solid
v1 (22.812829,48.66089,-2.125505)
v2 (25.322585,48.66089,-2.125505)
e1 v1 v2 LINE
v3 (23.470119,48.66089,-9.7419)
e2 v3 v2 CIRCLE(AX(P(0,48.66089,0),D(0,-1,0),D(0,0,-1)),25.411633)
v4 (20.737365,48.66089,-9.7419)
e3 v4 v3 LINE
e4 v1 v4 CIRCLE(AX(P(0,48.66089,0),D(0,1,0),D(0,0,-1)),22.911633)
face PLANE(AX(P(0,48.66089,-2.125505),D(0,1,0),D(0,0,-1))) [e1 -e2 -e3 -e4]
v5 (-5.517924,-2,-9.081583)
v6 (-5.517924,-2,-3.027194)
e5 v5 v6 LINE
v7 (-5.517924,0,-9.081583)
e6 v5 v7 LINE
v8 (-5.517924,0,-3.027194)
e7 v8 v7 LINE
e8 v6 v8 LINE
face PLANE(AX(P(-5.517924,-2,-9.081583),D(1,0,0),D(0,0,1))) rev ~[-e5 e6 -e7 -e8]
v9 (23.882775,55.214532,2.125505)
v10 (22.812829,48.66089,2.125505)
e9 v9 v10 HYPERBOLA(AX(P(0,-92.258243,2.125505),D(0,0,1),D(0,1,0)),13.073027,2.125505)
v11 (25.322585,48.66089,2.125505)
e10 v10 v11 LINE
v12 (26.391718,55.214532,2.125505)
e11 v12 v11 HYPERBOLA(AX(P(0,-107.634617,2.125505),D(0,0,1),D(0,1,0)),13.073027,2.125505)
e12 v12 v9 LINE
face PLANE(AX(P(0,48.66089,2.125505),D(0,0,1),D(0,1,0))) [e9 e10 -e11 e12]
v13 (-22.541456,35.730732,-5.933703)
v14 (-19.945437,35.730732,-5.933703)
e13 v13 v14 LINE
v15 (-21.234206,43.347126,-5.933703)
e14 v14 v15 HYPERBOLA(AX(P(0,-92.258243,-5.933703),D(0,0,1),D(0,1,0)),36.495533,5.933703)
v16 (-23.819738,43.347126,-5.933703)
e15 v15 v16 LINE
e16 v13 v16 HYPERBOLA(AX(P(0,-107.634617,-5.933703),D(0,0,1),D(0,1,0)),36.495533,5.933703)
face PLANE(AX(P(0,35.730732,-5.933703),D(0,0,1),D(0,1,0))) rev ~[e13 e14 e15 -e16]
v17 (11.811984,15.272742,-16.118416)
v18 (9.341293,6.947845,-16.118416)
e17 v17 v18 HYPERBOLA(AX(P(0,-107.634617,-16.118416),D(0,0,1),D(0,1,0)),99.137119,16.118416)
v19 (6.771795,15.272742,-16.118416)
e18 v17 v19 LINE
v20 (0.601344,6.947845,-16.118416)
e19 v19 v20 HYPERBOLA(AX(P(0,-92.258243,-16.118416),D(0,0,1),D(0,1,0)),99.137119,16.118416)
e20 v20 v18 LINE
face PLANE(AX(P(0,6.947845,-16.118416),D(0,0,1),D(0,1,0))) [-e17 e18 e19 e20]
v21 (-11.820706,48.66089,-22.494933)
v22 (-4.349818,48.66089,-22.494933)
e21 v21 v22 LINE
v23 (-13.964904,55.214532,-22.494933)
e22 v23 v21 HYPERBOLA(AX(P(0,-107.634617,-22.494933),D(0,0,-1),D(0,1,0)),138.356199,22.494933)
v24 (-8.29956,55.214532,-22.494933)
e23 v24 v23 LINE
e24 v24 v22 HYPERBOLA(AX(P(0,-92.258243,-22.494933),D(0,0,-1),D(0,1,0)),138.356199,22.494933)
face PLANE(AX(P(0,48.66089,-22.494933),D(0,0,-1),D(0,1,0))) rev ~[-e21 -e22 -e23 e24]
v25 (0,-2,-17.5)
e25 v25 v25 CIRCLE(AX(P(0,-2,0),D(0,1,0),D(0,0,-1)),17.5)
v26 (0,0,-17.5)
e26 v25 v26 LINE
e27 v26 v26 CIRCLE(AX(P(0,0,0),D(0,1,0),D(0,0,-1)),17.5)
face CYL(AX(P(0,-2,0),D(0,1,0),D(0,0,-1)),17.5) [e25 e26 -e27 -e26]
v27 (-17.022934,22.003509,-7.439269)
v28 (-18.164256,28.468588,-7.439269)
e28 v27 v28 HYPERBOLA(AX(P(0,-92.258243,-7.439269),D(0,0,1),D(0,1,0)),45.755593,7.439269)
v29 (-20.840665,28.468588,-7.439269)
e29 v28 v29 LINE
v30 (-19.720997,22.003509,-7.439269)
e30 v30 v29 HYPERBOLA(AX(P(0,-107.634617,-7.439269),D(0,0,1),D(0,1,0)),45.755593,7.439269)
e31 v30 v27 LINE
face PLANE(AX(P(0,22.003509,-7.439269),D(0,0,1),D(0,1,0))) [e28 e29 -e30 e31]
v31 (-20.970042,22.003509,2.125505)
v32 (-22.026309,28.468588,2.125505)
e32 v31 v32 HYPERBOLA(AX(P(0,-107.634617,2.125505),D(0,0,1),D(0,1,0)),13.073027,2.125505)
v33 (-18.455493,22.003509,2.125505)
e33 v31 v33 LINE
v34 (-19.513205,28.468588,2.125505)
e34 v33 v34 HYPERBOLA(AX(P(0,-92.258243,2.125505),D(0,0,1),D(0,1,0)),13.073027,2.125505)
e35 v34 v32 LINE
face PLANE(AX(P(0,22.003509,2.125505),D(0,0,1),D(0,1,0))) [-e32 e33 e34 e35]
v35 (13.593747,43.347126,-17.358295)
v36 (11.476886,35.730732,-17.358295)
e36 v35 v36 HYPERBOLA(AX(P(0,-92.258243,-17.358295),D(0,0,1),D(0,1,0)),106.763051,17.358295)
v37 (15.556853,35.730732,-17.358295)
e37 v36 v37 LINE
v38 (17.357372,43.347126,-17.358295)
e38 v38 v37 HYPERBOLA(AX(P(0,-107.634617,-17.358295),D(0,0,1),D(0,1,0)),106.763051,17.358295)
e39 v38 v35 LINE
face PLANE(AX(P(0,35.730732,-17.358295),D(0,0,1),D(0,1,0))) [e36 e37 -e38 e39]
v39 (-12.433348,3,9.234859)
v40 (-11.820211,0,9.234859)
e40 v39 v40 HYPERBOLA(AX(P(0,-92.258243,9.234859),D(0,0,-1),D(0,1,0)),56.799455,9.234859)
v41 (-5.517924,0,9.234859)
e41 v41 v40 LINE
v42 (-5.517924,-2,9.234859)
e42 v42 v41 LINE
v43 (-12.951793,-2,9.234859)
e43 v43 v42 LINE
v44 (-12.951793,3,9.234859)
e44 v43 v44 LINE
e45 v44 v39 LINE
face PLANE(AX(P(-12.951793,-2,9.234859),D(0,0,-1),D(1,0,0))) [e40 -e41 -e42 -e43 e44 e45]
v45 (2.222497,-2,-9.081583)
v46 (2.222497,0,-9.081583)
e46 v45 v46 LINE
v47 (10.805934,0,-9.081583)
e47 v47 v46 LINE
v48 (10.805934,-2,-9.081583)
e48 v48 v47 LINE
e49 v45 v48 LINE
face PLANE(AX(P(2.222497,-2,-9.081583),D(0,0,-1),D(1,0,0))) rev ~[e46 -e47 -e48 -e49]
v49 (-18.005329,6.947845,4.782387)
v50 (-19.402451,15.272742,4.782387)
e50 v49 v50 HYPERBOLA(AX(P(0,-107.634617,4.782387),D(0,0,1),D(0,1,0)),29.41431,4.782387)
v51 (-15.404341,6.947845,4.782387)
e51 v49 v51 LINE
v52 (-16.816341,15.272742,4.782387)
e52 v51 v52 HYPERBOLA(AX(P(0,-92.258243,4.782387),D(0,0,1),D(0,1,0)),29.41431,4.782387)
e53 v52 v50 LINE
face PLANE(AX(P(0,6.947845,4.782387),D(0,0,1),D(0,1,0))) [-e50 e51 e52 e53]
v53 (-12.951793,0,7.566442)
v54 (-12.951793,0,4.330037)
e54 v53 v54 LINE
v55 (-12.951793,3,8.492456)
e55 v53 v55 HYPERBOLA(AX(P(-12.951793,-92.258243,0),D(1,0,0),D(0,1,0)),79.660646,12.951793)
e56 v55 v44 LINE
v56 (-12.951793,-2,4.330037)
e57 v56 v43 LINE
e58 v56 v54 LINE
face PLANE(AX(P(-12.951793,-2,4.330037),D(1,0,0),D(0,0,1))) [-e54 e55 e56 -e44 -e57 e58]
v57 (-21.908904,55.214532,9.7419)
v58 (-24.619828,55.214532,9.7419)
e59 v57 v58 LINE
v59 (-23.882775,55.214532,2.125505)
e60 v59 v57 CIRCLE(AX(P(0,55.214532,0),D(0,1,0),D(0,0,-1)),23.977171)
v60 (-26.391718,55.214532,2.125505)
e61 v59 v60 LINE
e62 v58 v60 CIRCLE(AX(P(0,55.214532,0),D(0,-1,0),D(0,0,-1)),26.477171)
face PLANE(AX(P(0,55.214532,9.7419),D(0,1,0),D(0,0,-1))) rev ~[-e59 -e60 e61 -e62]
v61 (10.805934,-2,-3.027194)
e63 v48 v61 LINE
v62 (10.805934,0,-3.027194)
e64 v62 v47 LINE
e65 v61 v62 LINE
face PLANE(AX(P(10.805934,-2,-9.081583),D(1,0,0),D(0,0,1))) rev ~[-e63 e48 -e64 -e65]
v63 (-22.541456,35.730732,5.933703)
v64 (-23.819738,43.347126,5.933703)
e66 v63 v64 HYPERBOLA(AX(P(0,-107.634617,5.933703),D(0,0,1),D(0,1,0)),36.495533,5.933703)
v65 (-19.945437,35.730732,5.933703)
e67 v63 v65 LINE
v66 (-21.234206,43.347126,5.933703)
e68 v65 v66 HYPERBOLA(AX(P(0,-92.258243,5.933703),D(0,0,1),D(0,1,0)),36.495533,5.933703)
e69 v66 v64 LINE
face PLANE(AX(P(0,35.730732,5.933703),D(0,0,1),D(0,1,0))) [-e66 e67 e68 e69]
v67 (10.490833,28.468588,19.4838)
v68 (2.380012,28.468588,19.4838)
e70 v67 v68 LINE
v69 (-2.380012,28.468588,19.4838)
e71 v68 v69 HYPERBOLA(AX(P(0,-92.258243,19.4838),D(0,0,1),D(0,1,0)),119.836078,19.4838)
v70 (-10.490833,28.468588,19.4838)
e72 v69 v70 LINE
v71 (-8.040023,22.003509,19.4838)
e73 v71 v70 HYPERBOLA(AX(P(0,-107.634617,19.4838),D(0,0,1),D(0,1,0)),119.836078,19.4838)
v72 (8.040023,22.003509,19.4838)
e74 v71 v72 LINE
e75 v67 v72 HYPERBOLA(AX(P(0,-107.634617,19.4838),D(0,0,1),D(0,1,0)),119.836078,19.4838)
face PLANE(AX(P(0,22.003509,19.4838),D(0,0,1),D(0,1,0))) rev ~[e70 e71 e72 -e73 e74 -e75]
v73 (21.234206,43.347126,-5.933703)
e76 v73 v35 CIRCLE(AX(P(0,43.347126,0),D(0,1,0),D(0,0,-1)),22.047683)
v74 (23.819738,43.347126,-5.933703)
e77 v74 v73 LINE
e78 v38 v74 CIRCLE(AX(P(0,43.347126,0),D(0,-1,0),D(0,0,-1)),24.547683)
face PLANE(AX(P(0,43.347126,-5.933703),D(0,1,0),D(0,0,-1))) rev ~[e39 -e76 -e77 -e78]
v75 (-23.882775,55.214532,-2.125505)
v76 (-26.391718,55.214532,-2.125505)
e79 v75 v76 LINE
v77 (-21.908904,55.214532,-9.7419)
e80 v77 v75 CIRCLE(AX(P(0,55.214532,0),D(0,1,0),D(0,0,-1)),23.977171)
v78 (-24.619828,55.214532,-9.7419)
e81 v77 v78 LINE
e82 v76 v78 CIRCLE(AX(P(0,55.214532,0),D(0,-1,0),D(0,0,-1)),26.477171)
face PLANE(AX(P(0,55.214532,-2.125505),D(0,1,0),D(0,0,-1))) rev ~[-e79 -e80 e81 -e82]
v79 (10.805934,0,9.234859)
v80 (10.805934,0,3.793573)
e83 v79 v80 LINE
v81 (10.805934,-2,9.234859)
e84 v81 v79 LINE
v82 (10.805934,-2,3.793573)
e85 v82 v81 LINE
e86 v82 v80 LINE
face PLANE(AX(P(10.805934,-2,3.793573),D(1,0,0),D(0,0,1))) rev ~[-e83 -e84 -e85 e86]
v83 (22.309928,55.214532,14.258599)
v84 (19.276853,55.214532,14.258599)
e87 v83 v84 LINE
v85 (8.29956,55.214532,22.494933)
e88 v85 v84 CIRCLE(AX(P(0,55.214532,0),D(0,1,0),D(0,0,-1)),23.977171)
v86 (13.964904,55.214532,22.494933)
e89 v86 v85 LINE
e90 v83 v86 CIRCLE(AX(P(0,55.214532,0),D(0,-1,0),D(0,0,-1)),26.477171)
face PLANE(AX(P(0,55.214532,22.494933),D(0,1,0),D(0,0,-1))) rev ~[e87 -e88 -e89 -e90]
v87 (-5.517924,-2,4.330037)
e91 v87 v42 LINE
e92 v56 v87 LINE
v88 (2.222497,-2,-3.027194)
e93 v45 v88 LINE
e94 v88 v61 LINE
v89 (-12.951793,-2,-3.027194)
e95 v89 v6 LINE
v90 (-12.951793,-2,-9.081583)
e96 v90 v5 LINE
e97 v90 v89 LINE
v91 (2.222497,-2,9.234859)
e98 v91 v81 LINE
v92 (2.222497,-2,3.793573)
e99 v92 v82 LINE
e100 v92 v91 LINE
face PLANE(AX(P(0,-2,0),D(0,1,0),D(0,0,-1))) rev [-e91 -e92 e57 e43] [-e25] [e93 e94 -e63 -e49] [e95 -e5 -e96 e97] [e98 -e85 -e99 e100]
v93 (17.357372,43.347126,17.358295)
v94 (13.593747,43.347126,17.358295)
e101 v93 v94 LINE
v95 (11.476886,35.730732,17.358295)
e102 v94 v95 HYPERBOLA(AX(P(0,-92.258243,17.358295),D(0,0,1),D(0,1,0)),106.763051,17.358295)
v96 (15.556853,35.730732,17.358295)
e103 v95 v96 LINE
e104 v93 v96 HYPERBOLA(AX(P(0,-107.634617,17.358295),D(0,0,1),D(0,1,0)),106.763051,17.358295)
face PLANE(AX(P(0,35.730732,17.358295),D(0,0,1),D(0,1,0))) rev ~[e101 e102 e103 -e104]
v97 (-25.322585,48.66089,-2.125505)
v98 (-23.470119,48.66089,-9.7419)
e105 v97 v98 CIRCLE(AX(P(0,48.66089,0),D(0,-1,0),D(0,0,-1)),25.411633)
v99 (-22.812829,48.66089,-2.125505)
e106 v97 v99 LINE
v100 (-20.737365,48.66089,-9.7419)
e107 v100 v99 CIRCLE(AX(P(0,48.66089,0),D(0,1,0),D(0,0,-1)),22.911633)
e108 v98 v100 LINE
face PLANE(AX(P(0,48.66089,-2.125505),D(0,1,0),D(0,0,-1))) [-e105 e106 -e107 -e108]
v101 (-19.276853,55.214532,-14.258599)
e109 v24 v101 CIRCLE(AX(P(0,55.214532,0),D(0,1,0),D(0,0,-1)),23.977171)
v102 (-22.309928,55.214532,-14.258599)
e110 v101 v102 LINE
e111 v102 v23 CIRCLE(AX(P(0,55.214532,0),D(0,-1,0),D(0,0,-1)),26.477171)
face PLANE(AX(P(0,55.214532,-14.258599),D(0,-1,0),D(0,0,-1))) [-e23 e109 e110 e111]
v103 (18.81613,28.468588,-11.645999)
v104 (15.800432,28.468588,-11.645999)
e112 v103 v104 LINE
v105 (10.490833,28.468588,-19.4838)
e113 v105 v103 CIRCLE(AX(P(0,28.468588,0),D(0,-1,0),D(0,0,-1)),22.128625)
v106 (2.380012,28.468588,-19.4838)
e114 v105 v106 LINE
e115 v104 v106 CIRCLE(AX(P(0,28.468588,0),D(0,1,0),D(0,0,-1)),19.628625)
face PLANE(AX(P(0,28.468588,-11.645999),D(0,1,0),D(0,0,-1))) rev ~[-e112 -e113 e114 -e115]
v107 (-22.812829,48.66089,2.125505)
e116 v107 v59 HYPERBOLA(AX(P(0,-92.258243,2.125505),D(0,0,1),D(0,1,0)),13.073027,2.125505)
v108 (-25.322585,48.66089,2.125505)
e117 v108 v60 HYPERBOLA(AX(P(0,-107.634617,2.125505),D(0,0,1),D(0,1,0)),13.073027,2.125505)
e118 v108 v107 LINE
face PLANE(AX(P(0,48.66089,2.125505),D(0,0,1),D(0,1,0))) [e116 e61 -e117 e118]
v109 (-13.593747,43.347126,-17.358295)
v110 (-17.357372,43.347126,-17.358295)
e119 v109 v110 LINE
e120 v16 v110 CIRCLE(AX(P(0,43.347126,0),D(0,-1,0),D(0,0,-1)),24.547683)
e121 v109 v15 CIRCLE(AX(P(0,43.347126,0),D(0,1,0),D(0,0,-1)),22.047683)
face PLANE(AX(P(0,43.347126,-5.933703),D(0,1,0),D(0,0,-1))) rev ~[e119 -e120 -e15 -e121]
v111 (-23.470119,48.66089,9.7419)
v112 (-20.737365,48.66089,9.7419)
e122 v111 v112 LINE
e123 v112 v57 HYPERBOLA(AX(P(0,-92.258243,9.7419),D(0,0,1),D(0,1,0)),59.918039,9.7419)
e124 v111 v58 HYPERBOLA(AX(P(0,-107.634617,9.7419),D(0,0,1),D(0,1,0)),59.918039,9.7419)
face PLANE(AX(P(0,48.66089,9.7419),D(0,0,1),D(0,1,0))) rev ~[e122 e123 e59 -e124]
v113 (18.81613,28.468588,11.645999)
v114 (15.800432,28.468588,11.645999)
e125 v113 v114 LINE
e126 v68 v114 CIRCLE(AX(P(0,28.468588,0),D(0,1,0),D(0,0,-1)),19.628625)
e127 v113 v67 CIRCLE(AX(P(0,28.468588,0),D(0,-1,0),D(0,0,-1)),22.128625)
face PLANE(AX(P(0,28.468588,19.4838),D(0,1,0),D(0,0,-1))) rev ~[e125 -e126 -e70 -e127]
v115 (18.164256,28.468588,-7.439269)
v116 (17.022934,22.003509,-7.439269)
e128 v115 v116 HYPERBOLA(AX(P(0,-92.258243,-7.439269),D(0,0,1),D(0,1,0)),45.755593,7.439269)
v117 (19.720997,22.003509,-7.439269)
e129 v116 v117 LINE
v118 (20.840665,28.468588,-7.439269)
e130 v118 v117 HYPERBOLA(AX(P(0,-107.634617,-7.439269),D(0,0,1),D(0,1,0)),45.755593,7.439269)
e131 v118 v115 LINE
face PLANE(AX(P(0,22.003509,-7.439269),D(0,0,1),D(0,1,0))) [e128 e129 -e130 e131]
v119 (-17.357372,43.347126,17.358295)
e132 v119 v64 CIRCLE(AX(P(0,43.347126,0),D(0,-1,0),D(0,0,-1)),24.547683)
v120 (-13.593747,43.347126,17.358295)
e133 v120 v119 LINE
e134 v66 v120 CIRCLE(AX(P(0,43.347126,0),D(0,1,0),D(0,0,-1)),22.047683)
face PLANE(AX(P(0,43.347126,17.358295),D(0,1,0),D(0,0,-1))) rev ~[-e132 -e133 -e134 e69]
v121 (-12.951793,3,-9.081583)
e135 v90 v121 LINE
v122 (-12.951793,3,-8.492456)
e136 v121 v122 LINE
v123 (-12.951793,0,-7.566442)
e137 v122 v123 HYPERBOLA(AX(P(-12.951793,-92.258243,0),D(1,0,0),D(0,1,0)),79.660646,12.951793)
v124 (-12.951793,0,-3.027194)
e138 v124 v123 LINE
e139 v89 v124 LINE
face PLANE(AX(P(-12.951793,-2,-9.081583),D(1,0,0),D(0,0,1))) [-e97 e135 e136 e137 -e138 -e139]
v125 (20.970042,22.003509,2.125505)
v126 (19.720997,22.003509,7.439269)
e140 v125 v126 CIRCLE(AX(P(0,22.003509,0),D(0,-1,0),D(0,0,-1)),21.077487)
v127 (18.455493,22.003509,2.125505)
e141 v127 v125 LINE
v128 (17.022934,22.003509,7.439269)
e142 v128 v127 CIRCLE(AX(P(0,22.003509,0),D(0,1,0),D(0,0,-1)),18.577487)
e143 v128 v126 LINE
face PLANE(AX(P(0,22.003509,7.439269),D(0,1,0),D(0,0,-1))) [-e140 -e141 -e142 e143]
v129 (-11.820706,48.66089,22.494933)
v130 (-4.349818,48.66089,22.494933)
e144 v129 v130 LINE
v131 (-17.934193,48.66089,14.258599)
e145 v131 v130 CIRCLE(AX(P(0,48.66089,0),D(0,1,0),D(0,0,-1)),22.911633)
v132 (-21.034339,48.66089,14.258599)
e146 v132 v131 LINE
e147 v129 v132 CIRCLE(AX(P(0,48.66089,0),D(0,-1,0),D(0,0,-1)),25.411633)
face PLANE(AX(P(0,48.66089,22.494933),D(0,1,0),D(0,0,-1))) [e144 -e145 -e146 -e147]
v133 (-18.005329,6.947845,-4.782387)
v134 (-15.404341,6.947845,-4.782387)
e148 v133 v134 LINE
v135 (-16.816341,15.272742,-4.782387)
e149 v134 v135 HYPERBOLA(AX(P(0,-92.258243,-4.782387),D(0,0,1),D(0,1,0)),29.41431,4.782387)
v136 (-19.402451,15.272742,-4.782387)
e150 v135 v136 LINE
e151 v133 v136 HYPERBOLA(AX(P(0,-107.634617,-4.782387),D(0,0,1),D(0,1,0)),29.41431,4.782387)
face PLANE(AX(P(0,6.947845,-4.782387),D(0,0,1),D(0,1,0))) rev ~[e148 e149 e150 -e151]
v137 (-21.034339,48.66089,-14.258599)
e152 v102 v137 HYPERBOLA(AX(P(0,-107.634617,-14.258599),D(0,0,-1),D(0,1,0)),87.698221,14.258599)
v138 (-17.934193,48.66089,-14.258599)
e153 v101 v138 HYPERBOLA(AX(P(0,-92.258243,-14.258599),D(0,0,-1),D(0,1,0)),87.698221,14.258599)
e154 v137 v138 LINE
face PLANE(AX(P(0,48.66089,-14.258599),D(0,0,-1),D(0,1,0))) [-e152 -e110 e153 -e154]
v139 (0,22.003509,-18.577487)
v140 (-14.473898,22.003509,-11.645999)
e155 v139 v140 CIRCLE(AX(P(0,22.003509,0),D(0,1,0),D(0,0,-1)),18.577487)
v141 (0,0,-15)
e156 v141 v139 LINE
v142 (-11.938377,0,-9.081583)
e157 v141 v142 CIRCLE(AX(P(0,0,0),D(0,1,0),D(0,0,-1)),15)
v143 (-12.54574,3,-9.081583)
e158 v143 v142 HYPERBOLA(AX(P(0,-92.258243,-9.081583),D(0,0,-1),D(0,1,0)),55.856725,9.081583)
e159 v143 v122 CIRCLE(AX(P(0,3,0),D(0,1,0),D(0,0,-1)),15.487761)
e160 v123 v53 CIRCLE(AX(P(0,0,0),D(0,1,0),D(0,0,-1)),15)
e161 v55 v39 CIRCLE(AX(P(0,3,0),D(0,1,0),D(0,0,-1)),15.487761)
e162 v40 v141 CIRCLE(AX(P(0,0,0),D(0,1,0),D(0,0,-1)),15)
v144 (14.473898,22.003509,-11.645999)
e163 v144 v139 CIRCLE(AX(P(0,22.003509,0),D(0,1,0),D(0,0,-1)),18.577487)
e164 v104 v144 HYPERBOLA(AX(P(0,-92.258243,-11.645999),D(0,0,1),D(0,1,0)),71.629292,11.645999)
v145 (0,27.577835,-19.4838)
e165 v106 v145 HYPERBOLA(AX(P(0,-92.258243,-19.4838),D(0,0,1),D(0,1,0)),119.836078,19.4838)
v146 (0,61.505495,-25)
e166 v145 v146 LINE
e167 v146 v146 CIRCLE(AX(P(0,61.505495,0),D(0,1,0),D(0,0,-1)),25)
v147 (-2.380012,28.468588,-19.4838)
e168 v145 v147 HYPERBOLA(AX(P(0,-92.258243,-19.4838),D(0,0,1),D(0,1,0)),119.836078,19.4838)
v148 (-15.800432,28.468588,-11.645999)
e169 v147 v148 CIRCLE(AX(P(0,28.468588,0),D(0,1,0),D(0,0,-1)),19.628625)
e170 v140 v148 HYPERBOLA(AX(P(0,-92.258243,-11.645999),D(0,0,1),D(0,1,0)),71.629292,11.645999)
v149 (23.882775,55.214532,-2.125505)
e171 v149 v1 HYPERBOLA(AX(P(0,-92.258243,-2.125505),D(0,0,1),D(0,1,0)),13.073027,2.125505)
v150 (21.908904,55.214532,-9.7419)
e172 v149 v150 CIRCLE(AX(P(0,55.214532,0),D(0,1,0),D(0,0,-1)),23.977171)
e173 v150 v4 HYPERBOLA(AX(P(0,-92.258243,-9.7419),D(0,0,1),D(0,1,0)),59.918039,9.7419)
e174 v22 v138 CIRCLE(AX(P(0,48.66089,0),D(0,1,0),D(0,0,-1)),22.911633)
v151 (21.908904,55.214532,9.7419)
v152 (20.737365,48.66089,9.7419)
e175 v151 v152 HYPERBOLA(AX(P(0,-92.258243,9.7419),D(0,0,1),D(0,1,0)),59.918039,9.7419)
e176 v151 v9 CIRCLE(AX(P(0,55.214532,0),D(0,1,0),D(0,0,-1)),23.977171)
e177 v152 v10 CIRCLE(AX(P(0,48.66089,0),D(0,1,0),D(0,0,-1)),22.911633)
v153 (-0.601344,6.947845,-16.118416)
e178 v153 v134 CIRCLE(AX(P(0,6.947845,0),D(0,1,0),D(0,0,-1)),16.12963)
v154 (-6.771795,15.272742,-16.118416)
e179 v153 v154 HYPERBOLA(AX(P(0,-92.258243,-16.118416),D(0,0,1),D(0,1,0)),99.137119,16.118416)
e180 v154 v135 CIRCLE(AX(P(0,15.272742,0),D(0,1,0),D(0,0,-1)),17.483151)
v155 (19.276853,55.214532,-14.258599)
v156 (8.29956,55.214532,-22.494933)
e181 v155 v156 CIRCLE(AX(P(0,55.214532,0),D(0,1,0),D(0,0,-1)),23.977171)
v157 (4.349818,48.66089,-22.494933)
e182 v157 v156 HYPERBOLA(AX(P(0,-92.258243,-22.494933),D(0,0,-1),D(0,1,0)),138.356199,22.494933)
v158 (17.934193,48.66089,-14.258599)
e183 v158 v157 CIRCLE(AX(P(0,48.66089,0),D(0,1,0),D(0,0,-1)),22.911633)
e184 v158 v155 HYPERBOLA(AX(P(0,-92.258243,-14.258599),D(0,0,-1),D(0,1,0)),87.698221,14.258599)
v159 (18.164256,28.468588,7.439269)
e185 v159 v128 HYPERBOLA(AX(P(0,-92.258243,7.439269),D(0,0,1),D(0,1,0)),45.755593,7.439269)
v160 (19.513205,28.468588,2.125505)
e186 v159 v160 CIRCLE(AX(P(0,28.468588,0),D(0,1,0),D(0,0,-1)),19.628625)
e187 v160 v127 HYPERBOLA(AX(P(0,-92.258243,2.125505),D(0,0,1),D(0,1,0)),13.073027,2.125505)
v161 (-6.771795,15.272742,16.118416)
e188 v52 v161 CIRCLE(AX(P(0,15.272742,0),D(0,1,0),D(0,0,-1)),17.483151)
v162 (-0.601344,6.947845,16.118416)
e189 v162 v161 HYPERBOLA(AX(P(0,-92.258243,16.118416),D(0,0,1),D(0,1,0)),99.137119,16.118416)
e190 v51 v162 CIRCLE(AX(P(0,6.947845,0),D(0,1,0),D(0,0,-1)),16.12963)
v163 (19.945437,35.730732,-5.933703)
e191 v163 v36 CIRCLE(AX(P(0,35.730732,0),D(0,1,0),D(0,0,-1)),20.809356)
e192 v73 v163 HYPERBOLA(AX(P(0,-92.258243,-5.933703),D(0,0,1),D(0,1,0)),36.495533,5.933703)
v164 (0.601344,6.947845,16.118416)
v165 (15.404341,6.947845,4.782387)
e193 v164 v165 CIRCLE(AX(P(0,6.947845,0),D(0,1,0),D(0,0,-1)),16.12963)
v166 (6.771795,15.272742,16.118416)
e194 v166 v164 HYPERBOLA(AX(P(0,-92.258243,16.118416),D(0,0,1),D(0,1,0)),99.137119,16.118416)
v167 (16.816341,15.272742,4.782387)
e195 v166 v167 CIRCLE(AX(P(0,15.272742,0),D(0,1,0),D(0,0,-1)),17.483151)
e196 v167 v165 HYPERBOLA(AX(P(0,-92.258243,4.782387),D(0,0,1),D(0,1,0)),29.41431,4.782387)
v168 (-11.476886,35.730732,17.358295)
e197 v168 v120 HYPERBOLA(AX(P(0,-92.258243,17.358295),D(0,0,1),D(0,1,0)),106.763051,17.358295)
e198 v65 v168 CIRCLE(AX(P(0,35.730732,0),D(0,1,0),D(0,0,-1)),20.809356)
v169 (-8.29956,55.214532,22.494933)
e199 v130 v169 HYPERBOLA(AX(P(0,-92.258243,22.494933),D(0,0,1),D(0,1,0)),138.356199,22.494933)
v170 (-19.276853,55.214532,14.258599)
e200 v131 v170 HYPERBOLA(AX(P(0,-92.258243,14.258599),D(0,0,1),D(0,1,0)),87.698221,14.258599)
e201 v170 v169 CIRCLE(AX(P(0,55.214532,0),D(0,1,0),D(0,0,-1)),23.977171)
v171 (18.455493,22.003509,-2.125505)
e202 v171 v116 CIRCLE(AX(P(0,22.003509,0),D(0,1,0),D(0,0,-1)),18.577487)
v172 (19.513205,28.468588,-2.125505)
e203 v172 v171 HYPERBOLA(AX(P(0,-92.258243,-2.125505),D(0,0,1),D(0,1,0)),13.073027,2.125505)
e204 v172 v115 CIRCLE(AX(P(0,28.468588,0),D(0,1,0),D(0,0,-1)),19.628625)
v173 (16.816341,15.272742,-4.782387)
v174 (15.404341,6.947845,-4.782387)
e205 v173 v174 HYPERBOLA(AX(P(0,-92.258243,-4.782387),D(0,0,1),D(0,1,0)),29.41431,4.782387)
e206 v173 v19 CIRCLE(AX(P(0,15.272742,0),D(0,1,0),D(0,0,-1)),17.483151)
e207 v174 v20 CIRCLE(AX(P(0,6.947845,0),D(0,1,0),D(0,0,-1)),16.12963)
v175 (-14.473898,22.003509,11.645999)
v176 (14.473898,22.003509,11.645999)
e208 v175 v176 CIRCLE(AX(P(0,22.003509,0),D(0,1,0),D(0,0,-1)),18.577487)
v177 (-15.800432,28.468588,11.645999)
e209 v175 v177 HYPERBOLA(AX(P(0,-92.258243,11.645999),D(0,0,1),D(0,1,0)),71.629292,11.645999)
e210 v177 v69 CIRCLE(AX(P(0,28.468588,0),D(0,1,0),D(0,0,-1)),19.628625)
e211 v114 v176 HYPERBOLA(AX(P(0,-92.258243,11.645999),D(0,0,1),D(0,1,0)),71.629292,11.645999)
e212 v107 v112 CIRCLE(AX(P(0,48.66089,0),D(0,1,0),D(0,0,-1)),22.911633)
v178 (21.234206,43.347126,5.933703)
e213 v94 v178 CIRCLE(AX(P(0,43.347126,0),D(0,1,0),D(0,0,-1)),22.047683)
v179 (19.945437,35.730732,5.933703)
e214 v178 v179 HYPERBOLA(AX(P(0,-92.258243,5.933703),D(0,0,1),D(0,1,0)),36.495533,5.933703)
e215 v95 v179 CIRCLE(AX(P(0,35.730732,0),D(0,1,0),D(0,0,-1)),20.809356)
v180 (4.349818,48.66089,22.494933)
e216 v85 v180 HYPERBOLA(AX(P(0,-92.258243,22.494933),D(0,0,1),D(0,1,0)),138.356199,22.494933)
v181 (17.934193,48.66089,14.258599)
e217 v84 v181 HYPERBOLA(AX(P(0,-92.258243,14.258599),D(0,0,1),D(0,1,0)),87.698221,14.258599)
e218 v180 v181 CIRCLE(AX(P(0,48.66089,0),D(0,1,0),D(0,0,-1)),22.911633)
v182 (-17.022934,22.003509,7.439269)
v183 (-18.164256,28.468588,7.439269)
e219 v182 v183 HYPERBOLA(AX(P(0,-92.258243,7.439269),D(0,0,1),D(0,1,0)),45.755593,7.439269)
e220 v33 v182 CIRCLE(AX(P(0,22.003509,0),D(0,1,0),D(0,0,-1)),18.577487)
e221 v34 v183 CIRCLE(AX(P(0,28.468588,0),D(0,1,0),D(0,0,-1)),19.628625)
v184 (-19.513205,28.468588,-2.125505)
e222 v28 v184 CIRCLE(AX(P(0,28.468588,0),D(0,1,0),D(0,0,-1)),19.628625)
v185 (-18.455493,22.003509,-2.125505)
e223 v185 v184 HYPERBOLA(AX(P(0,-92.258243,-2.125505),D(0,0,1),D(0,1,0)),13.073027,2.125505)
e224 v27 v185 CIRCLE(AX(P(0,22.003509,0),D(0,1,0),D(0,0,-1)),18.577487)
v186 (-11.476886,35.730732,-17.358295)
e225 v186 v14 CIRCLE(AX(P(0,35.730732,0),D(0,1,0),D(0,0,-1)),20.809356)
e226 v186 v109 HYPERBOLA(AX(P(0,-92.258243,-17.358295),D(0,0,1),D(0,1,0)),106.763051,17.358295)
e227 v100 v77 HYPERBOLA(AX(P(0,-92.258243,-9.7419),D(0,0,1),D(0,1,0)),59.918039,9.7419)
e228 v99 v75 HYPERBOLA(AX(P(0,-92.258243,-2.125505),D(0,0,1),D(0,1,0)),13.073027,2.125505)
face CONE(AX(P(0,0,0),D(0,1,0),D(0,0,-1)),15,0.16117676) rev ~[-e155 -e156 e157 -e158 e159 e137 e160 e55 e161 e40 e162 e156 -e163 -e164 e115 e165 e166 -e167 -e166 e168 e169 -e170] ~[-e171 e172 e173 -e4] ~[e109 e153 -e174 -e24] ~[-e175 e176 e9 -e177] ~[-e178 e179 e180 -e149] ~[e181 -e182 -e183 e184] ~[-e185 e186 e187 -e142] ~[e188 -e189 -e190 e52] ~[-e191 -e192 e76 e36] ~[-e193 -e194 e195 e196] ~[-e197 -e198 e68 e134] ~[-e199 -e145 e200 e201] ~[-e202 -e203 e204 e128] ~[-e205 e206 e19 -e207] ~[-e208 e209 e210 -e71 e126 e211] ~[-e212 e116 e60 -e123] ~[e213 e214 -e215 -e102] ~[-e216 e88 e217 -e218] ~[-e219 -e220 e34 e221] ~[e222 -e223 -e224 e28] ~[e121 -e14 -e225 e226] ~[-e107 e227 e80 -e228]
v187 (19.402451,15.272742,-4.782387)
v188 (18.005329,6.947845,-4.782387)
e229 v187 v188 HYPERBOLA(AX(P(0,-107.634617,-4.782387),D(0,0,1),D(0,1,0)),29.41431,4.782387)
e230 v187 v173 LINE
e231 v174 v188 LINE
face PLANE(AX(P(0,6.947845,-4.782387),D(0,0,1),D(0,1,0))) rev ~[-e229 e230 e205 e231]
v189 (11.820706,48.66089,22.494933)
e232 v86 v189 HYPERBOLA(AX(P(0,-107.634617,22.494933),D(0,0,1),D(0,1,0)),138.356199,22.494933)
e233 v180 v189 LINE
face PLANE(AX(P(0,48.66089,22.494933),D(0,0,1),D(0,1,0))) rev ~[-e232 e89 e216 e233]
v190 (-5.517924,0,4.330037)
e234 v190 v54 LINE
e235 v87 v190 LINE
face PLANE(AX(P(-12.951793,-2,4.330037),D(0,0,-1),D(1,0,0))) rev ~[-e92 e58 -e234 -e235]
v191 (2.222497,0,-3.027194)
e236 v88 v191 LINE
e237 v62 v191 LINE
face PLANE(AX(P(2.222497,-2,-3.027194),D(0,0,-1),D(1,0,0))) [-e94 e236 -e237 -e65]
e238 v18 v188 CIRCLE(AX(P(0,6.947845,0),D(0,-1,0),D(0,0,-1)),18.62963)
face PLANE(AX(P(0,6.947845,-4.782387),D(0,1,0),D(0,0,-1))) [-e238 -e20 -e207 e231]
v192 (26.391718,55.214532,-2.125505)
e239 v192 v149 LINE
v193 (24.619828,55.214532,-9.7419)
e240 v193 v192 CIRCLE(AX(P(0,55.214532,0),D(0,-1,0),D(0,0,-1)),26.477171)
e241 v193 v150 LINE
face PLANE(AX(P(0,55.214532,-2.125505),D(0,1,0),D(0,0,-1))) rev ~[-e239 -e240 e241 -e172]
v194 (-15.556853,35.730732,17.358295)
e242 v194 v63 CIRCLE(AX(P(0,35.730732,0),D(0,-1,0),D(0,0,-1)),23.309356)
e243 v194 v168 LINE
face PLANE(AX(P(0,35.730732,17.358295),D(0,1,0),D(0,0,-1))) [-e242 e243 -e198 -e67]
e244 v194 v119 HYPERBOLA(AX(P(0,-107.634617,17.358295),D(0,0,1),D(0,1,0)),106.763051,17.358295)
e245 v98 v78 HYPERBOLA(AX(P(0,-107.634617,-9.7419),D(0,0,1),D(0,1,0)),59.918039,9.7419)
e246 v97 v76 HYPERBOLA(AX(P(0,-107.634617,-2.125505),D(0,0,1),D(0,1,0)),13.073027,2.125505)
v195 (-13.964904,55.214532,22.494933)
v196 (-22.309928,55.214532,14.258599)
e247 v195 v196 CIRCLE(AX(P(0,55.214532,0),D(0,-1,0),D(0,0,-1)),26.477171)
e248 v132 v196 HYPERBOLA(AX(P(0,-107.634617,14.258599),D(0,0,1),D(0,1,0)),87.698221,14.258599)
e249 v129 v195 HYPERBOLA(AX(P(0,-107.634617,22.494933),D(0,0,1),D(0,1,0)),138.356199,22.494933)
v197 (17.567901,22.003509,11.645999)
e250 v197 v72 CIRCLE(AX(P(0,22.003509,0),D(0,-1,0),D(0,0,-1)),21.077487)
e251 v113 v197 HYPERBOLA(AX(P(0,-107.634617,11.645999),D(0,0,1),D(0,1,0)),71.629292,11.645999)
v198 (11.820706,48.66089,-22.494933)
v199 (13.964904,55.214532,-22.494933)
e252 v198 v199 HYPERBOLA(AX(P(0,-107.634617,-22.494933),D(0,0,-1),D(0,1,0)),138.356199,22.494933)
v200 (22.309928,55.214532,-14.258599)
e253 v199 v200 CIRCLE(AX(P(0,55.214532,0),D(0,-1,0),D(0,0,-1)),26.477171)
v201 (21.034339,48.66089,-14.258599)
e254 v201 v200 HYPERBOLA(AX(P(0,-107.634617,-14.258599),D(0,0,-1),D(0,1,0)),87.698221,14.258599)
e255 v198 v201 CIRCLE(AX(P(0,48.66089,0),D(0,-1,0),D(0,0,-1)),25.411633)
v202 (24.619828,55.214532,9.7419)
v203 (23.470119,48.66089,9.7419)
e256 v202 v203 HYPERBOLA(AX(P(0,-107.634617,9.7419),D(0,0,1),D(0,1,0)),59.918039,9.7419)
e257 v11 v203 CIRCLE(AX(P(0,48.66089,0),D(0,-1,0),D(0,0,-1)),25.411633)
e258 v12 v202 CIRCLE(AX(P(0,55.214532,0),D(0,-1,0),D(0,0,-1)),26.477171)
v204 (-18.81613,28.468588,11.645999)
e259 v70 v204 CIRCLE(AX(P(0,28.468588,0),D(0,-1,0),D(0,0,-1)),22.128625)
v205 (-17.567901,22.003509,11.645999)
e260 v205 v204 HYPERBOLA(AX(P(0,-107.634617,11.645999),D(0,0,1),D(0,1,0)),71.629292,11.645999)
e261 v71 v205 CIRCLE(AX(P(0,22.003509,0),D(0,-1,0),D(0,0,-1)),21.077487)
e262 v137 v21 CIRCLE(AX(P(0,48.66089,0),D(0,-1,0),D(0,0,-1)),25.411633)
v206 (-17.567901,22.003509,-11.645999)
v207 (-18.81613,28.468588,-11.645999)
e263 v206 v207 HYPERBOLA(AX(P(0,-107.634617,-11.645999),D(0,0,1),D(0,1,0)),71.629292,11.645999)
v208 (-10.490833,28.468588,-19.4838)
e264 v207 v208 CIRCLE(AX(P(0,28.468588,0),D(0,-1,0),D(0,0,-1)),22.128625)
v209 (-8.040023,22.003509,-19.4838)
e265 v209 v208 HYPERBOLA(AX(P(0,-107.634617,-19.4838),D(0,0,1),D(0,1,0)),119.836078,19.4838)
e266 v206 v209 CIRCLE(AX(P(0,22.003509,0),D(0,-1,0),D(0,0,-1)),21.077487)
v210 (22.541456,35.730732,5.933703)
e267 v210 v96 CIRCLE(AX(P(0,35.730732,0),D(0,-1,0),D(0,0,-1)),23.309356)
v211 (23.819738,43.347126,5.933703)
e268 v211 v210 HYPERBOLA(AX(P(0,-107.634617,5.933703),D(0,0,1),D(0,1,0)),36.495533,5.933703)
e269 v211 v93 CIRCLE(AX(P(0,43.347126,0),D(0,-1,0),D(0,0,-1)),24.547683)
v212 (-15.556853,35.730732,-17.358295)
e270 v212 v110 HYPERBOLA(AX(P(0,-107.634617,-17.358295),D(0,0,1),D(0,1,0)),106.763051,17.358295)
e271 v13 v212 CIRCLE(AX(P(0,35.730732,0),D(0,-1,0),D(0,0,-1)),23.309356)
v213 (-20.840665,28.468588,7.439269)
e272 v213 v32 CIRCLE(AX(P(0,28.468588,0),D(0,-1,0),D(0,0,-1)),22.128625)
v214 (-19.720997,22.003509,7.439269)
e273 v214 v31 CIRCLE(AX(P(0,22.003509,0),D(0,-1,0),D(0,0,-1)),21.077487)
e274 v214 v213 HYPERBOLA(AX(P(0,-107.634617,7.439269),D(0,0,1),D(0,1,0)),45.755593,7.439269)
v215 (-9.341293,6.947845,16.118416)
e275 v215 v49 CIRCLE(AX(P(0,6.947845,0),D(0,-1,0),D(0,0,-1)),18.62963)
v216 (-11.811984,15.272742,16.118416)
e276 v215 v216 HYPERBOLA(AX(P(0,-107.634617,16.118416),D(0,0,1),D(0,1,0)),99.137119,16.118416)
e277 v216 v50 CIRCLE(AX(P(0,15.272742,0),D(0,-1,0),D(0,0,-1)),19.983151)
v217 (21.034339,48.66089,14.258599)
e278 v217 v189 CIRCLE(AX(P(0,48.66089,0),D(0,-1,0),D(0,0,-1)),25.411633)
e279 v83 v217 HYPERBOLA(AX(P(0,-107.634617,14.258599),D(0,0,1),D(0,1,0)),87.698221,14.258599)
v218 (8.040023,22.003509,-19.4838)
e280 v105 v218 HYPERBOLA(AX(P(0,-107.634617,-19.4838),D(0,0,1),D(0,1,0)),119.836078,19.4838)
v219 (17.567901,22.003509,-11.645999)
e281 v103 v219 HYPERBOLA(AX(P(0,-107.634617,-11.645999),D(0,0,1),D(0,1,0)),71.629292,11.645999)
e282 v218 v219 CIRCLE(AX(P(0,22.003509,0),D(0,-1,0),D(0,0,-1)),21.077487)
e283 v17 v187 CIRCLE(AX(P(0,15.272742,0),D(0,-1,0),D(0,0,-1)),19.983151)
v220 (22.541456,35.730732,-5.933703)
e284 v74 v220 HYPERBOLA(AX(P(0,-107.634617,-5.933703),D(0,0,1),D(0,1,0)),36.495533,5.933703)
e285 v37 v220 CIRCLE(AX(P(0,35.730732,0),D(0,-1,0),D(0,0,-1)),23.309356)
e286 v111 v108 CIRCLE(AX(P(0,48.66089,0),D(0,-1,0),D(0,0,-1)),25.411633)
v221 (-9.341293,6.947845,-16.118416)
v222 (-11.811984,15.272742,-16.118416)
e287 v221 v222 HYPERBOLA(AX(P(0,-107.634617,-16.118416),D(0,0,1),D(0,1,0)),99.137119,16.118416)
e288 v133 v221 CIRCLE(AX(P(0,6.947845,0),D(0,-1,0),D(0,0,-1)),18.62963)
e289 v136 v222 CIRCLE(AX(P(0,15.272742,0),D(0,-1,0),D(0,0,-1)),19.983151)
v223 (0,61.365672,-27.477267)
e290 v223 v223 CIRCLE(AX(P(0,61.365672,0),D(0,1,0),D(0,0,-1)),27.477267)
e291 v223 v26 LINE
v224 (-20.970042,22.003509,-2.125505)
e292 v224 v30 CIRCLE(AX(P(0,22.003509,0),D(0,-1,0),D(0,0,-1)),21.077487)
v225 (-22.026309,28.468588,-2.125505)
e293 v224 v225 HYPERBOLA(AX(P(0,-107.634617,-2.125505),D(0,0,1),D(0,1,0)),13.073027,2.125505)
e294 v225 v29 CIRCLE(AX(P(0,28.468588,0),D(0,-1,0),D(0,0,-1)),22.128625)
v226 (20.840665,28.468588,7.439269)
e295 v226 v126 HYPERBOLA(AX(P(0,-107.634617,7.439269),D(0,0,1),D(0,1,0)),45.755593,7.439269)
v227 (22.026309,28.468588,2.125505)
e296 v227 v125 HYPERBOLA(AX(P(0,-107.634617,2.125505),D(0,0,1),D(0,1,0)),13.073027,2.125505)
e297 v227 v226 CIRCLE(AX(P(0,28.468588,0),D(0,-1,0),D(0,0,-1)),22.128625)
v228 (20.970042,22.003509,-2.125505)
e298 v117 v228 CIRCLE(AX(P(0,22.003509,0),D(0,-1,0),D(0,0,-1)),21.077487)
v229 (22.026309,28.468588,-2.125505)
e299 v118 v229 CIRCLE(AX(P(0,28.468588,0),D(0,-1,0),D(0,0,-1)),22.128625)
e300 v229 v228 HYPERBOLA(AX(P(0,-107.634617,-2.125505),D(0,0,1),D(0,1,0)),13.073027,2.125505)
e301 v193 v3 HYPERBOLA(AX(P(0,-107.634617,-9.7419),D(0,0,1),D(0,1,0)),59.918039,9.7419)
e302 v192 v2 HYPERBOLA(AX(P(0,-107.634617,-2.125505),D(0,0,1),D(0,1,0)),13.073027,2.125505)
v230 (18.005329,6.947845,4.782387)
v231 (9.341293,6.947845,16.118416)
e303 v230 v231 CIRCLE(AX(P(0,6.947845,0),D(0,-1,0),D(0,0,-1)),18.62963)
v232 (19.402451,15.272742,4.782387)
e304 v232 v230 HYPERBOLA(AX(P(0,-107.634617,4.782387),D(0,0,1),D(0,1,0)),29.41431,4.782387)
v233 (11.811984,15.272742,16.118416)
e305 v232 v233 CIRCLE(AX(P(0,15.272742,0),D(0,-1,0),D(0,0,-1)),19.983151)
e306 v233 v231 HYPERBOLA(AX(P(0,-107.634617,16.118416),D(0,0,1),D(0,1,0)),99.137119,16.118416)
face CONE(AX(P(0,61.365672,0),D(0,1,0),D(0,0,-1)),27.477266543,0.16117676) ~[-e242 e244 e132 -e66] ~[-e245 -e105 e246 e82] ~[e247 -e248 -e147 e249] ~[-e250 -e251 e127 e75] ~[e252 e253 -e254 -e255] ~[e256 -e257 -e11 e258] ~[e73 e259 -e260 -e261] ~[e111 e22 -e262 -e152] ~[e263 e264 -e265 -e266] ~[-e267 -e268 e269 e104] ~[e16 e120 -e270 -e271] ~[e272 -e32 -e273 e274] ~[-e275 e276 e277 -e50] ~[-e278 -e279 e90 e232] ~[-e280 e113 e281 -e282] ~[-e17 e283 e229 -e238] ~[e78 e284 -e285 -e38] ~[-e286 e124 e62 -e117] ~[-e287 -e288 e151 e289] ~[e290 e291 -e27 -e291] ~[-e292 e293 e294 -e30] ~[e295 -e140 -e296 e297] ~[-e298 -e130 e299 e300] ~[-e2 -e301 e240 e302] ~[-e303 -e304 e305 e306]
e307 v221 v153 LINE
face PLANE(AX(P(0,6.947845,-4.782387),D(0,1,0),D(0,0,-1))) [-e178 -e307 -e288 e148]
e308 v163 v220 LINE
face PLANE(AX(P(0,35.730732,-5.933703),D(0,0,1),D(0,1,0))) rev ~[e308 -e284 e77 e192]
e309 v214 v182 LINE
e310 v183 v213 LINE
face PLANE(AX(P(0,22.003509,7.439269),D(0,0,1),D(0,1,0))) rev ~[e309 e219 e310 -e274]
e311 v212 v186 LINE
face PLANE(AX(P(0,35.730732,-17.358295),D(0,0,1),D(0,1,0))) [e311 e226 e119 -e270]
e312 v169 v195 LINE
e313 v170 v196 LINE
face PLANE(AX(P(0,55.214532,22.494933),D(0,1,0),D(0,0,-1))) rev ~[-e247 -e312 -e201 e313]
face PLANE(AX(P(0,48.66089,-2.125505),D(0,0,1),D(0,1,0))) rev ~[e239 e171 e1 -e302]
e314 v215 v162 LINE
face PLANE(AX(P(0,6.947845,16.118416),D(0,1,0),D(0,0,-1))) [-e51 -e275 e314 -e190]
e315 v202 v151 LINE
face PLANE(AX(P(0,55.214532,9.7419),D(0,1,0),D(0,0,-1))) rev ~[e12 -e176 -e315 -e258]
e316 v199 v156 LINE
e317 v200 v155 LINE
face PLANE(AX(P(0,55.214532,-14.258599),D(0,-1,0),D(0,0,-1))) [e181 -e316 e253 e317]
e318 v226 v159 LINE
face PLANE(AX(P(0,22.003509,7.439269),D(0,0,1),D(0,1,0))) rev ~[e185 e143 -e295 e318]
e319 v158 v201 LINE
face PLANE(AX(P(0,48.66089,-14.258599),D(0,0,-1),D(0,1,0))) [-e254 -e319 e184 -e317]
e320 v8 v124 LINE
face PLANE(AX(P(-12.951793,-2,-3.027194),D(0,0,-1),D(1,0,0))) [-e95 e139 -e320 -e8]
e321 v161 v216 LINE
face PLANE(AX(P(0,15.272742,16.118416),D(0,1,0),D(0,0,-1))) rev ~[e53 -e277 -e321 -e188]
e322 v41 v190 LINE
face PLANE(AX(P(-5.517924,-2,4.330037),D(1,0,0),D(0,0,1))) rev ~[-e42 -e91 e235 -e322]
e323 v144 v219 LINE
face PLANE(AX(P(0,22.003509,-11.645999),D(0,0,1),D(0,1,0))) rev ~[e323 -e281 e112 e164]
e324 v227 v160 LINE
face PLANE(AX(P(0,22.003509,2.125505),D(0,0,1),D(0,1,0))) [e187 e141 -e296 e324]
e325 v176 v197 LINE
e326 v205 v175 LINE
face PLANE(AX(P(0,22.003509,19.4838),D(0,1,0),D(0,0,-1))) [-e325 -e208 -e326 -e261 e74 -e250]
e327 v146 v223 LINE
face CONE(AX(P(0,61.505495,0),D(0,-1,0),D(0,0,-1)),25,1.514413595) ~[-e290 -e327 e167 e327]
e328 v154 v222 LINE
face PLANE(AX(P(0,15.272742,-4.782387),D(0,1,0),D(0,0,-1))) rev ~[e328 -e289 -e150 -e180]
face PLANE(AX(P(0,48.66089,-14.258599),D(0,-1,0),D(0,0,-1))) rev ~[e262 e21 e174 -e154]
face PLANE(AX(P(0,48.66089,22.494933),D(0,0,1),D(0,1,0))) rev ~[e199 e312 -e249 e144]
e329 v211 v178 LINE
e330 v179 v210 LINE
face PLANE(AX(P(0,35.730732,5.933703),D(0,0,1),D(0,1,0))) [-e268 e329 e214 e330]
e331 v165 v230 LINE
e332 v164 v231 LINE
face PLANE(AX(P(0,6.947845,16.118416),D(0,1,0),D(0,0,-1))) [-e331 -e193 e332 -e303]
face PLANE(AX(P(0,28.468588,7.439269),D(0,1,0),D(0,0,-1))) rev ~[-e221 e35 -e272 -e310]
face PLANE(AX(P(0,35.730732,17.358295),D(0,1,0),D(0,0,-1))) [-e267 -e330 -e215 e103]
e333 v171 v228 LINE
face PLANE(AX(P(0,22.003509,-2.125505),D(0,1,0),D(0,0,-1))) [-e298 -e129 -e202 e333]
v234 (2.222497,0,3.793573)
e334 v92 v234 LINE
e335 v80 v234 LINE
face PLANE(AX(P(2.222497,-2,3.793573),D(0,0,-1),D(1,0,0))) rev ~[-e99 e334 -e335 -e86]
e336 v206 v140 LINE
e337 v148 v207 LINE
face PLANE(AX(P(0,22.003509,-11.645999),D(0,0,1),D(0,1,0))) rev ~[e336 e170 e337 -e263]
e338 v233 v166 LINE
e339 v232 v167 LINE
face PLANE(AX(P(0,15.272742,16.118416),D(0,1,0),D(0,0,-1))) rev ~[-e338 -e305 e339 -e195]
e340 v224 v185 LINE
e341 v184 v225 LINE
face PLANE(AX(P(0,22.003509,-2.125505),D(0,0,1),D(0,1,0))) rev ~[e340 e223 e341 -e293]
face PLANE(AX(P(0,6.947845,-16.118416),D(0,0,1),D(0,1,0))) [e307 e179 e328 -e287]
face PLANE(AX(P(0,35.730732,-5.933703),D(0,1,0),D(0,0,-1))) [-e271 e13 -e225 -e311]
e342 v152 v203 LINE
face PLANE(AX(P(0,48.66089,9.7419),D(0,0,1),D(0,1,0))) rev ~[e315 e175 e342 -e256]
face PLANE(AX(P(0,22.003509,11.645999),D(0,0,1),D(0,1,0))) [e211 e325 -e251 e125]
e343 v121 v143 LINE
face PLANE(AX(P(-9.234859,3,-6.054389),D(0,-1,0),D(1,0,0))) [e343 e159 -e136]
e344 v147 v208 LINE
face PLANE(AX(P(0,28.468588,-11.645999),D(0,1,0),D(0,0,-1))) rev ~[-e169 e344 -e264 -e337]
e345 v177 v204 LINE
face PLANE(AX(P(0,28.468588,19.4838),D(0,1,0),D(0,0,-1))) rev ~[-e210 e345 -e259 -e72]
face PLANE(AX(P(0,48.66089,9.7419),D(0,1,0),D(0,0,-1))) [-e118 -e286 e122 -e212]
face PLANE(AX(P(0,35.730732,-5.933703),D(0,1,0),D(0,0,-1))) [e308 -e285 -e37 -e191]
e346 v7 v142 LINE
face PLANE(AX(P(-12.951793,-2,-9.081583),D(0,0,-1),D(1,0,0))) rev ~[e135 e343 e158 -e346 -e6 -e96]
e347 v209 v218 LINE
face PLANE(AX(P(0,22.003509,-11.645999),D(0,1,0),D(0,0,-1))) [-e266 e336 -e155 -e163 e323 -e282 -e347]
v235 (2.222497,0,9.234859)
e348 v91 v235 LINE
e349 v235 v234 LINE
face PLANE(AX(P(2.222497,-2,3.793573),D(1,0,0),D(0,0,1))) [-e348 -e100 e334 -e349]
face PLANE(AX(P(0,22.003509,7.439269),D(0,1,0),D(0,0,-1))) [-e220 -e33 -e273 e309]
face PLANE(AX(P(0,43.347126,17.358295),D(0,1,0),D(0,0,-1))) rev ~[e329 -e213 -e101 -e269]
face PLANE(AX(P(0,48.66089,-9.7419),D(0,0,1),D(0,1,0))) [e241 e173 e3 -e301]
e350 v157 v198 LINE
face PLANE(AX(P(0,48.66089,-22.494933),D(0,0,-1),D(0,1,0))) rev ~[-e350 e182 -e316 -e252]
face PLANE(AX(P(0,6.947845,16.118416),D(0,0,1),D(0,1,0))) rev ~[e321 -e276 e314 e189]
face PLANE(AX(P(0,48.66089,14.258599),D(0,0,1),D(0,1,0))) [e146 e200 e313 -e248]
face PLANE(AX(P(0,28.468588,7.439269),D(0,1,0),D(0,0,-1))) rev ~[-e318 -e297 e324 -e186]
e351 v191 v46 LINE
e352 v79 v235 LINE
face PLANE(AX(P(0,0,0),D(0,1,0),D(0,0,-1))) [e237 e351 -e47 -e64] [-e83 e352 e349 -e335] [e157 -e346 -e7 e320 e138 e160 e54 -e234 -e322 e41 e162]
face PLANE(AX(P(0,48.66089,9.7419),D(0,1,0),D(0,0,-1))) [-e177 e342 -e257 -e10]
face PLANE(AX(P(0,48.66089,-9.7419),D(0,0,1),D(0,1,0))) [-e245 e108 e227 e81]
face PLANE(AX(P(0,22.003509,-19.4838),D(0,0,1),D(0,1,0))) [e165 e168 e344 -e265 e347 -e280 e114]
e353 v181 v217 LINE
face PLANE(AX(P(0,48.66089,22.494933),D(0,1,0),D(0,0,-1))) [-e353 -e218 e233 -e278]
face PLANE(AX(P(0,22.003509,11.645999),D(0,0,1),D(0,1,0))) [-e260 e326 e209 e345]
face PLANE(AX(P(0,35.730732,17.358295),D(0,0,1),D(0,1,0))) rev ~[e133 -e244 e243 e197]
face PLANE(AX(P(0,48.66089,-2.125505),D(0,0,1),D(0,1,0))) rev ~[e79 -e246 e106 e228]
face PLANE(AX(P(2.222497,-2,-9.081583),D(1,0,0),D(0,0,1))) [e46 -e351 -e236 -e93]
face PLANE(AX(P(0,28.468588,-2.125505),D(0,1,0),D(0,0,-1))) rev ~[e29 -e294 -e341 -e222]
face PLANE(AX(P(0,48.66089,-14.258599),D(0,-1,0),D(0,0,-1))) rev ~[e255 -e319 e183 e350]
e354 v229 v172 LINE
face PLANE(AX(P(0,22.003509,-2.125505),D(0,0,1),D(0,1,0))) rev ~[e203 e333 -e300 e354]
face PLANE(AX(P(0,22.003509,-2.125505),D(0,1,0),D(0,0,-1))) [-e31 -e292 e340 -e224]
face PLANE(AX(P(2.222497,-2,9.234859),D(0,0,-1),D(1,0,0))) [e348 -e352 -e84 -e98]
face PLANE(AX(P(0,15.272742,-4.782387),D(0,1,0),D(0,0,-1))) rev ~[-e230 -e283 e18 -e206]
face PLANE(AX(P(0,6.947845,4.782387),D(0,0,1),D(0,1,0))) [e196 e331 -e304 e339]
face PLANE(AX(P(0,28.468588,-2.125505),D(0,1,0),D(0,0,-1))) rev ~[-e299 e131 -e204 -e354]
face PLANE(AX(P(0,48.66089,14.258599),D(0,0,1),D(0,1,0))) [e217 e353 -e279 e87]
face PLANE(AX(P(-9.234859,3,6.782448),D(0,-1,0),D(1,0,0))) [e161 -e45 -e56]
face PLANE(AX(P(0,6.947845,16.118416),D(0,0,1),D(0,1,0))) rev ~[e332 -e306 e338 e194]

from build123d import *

# Parameters (mm, degrees)
SKETCH2_W          = 5.313763674
SKETCH2_H          = 6.465079137
SKETCH2_W_2        = 8.236333695
SKETCH2_H_2        = 6.553641866
SKETCH2_W_3        = 7.6163946
SKETCH2_W_4        = 11.4245919
SKETCH2_H_3        = 7.6163946
SKETCH2_W_5        = 7.837801419
SKETCH2_W_6        = 11.336029172
SKETCH2_H_4        = 8.324896423
CUT_EXTRUDE1_DEPTH = 37.5
SKETCH3_W          = 8.58343696
SKETCH3_H          = 6.05438857
SKETCH3_W_2        = 7.43386951
SKETCH3_H_2        = 5.44128593
SKETCH3_H_3        = 4.90482112
CUT_EXTRUDE2_DEPTH = 5


with BuildPart() as part:
    # Sketch1 → Revolve1 (revolve)
    with BuildSketch(Plane.XY, mode=Mode.PRIVATE) as revolve1_sk:
        Polygon((25, 61.505495407), (27.477266543, 61.365672154), (17.5, 0), (15, 0), align=None)
        Polygon((17.5, 0), (15, 0), (0, 0), (0, -2), (17.5, -2), align=None)
    revolve(revolve1_sk.sketch.rotate(Axis((0, 0, 0), (0, 1, 0)), 90), axis=Axis((0, 0, 0), (0, 1, 0)))

    # Sketch2 → Cut-Extrude1 (cut, symmetric)
    with BuildSketch(Plane(origin=(0, 0, 0), x_dir=(0, 0, -1), z_dir=(1, 0, 0))):
        with Locations((4.782387307, 25.236048581)):
            Rectangle(SKETCH2_W, SKETCH2_H)
        with Locations((-18.376766041, 51.937711044)):
            Rectangle(SKETCH2_W_2, SKETCH2_H_2)
        with Locations((-5.93370277, 51.937711044)):
            Rectangle(SKETCH2_W_3, SKETCH2_H_2)
        with Locations((-11.64599872, 39.538929137)):
            Rectangle(SKETCH2_W_4, SKETCH2_H_3)
        with Locations((-15.56489943, 25.236048581)):
            Rectangle(SKETCH2_W_5, SKETCH2_H)
        with Locations((-4.782387307, 25.236048581)):
            Rectangle(SKETCH2_W, SKETCH2_H)
        with Locations((-10.450401893, 11.11029348)):
            Rectangle(SKETCH2_W_6, SKETCH2_H_4)
        with Locations((5.93370277, 51.937711044)):
            Rectangle(SKETCH2_W_3, SKETCH2_H_2)
        with Locations((10.450401893, 11.11029348)):
            Rectangle(SKETCH2_W_6, SKETCH2_H_4)
        with Locations((15.56489943, 25.236048581)):
            Rectangle(SKETCH2_W_5, SKETCH2_H)
        with Locations((11.64599872, 39.538929137)):
            Rectangle(SKETCH2_W_4, SKETCH2_H_3)
        with Locations((18.376766041, 51.937711044)):
            Rectangle(SKETCH2_W_2, SKETCH2_H_2)
    extrude(amount=CUT_EXTRUDE1_DEPTH, both=True, mode=Mode.SUBTRACT)

    # Sketch3 → Cut-Extrude2 (cut)
    with BuildSketch(Plane.XZ.offset(2)):
        with Locations((6.51421555, -6.05438857)):
            Rectangle(SKETCH3_W, SKETCH3_H)
        with Locations((-9.234858515, -6.05438857)):
            Rectangle(SKETCH3_W_2, SKETCH3_H)
        with Locations((6.51421555, 6.51421555)):
            Rectangle(SKETCH3_W, SKETCH3_H_2)
        with Locations((-9.234858515, 6.782447955)):
            Rectangle(SKETCH3_W_2, SKETCH3_H_3)
    extrude(amount=-CUT_EXTRUDE2_DEPTH, mode=Mode.SUBTRACT)


solid = part.part
